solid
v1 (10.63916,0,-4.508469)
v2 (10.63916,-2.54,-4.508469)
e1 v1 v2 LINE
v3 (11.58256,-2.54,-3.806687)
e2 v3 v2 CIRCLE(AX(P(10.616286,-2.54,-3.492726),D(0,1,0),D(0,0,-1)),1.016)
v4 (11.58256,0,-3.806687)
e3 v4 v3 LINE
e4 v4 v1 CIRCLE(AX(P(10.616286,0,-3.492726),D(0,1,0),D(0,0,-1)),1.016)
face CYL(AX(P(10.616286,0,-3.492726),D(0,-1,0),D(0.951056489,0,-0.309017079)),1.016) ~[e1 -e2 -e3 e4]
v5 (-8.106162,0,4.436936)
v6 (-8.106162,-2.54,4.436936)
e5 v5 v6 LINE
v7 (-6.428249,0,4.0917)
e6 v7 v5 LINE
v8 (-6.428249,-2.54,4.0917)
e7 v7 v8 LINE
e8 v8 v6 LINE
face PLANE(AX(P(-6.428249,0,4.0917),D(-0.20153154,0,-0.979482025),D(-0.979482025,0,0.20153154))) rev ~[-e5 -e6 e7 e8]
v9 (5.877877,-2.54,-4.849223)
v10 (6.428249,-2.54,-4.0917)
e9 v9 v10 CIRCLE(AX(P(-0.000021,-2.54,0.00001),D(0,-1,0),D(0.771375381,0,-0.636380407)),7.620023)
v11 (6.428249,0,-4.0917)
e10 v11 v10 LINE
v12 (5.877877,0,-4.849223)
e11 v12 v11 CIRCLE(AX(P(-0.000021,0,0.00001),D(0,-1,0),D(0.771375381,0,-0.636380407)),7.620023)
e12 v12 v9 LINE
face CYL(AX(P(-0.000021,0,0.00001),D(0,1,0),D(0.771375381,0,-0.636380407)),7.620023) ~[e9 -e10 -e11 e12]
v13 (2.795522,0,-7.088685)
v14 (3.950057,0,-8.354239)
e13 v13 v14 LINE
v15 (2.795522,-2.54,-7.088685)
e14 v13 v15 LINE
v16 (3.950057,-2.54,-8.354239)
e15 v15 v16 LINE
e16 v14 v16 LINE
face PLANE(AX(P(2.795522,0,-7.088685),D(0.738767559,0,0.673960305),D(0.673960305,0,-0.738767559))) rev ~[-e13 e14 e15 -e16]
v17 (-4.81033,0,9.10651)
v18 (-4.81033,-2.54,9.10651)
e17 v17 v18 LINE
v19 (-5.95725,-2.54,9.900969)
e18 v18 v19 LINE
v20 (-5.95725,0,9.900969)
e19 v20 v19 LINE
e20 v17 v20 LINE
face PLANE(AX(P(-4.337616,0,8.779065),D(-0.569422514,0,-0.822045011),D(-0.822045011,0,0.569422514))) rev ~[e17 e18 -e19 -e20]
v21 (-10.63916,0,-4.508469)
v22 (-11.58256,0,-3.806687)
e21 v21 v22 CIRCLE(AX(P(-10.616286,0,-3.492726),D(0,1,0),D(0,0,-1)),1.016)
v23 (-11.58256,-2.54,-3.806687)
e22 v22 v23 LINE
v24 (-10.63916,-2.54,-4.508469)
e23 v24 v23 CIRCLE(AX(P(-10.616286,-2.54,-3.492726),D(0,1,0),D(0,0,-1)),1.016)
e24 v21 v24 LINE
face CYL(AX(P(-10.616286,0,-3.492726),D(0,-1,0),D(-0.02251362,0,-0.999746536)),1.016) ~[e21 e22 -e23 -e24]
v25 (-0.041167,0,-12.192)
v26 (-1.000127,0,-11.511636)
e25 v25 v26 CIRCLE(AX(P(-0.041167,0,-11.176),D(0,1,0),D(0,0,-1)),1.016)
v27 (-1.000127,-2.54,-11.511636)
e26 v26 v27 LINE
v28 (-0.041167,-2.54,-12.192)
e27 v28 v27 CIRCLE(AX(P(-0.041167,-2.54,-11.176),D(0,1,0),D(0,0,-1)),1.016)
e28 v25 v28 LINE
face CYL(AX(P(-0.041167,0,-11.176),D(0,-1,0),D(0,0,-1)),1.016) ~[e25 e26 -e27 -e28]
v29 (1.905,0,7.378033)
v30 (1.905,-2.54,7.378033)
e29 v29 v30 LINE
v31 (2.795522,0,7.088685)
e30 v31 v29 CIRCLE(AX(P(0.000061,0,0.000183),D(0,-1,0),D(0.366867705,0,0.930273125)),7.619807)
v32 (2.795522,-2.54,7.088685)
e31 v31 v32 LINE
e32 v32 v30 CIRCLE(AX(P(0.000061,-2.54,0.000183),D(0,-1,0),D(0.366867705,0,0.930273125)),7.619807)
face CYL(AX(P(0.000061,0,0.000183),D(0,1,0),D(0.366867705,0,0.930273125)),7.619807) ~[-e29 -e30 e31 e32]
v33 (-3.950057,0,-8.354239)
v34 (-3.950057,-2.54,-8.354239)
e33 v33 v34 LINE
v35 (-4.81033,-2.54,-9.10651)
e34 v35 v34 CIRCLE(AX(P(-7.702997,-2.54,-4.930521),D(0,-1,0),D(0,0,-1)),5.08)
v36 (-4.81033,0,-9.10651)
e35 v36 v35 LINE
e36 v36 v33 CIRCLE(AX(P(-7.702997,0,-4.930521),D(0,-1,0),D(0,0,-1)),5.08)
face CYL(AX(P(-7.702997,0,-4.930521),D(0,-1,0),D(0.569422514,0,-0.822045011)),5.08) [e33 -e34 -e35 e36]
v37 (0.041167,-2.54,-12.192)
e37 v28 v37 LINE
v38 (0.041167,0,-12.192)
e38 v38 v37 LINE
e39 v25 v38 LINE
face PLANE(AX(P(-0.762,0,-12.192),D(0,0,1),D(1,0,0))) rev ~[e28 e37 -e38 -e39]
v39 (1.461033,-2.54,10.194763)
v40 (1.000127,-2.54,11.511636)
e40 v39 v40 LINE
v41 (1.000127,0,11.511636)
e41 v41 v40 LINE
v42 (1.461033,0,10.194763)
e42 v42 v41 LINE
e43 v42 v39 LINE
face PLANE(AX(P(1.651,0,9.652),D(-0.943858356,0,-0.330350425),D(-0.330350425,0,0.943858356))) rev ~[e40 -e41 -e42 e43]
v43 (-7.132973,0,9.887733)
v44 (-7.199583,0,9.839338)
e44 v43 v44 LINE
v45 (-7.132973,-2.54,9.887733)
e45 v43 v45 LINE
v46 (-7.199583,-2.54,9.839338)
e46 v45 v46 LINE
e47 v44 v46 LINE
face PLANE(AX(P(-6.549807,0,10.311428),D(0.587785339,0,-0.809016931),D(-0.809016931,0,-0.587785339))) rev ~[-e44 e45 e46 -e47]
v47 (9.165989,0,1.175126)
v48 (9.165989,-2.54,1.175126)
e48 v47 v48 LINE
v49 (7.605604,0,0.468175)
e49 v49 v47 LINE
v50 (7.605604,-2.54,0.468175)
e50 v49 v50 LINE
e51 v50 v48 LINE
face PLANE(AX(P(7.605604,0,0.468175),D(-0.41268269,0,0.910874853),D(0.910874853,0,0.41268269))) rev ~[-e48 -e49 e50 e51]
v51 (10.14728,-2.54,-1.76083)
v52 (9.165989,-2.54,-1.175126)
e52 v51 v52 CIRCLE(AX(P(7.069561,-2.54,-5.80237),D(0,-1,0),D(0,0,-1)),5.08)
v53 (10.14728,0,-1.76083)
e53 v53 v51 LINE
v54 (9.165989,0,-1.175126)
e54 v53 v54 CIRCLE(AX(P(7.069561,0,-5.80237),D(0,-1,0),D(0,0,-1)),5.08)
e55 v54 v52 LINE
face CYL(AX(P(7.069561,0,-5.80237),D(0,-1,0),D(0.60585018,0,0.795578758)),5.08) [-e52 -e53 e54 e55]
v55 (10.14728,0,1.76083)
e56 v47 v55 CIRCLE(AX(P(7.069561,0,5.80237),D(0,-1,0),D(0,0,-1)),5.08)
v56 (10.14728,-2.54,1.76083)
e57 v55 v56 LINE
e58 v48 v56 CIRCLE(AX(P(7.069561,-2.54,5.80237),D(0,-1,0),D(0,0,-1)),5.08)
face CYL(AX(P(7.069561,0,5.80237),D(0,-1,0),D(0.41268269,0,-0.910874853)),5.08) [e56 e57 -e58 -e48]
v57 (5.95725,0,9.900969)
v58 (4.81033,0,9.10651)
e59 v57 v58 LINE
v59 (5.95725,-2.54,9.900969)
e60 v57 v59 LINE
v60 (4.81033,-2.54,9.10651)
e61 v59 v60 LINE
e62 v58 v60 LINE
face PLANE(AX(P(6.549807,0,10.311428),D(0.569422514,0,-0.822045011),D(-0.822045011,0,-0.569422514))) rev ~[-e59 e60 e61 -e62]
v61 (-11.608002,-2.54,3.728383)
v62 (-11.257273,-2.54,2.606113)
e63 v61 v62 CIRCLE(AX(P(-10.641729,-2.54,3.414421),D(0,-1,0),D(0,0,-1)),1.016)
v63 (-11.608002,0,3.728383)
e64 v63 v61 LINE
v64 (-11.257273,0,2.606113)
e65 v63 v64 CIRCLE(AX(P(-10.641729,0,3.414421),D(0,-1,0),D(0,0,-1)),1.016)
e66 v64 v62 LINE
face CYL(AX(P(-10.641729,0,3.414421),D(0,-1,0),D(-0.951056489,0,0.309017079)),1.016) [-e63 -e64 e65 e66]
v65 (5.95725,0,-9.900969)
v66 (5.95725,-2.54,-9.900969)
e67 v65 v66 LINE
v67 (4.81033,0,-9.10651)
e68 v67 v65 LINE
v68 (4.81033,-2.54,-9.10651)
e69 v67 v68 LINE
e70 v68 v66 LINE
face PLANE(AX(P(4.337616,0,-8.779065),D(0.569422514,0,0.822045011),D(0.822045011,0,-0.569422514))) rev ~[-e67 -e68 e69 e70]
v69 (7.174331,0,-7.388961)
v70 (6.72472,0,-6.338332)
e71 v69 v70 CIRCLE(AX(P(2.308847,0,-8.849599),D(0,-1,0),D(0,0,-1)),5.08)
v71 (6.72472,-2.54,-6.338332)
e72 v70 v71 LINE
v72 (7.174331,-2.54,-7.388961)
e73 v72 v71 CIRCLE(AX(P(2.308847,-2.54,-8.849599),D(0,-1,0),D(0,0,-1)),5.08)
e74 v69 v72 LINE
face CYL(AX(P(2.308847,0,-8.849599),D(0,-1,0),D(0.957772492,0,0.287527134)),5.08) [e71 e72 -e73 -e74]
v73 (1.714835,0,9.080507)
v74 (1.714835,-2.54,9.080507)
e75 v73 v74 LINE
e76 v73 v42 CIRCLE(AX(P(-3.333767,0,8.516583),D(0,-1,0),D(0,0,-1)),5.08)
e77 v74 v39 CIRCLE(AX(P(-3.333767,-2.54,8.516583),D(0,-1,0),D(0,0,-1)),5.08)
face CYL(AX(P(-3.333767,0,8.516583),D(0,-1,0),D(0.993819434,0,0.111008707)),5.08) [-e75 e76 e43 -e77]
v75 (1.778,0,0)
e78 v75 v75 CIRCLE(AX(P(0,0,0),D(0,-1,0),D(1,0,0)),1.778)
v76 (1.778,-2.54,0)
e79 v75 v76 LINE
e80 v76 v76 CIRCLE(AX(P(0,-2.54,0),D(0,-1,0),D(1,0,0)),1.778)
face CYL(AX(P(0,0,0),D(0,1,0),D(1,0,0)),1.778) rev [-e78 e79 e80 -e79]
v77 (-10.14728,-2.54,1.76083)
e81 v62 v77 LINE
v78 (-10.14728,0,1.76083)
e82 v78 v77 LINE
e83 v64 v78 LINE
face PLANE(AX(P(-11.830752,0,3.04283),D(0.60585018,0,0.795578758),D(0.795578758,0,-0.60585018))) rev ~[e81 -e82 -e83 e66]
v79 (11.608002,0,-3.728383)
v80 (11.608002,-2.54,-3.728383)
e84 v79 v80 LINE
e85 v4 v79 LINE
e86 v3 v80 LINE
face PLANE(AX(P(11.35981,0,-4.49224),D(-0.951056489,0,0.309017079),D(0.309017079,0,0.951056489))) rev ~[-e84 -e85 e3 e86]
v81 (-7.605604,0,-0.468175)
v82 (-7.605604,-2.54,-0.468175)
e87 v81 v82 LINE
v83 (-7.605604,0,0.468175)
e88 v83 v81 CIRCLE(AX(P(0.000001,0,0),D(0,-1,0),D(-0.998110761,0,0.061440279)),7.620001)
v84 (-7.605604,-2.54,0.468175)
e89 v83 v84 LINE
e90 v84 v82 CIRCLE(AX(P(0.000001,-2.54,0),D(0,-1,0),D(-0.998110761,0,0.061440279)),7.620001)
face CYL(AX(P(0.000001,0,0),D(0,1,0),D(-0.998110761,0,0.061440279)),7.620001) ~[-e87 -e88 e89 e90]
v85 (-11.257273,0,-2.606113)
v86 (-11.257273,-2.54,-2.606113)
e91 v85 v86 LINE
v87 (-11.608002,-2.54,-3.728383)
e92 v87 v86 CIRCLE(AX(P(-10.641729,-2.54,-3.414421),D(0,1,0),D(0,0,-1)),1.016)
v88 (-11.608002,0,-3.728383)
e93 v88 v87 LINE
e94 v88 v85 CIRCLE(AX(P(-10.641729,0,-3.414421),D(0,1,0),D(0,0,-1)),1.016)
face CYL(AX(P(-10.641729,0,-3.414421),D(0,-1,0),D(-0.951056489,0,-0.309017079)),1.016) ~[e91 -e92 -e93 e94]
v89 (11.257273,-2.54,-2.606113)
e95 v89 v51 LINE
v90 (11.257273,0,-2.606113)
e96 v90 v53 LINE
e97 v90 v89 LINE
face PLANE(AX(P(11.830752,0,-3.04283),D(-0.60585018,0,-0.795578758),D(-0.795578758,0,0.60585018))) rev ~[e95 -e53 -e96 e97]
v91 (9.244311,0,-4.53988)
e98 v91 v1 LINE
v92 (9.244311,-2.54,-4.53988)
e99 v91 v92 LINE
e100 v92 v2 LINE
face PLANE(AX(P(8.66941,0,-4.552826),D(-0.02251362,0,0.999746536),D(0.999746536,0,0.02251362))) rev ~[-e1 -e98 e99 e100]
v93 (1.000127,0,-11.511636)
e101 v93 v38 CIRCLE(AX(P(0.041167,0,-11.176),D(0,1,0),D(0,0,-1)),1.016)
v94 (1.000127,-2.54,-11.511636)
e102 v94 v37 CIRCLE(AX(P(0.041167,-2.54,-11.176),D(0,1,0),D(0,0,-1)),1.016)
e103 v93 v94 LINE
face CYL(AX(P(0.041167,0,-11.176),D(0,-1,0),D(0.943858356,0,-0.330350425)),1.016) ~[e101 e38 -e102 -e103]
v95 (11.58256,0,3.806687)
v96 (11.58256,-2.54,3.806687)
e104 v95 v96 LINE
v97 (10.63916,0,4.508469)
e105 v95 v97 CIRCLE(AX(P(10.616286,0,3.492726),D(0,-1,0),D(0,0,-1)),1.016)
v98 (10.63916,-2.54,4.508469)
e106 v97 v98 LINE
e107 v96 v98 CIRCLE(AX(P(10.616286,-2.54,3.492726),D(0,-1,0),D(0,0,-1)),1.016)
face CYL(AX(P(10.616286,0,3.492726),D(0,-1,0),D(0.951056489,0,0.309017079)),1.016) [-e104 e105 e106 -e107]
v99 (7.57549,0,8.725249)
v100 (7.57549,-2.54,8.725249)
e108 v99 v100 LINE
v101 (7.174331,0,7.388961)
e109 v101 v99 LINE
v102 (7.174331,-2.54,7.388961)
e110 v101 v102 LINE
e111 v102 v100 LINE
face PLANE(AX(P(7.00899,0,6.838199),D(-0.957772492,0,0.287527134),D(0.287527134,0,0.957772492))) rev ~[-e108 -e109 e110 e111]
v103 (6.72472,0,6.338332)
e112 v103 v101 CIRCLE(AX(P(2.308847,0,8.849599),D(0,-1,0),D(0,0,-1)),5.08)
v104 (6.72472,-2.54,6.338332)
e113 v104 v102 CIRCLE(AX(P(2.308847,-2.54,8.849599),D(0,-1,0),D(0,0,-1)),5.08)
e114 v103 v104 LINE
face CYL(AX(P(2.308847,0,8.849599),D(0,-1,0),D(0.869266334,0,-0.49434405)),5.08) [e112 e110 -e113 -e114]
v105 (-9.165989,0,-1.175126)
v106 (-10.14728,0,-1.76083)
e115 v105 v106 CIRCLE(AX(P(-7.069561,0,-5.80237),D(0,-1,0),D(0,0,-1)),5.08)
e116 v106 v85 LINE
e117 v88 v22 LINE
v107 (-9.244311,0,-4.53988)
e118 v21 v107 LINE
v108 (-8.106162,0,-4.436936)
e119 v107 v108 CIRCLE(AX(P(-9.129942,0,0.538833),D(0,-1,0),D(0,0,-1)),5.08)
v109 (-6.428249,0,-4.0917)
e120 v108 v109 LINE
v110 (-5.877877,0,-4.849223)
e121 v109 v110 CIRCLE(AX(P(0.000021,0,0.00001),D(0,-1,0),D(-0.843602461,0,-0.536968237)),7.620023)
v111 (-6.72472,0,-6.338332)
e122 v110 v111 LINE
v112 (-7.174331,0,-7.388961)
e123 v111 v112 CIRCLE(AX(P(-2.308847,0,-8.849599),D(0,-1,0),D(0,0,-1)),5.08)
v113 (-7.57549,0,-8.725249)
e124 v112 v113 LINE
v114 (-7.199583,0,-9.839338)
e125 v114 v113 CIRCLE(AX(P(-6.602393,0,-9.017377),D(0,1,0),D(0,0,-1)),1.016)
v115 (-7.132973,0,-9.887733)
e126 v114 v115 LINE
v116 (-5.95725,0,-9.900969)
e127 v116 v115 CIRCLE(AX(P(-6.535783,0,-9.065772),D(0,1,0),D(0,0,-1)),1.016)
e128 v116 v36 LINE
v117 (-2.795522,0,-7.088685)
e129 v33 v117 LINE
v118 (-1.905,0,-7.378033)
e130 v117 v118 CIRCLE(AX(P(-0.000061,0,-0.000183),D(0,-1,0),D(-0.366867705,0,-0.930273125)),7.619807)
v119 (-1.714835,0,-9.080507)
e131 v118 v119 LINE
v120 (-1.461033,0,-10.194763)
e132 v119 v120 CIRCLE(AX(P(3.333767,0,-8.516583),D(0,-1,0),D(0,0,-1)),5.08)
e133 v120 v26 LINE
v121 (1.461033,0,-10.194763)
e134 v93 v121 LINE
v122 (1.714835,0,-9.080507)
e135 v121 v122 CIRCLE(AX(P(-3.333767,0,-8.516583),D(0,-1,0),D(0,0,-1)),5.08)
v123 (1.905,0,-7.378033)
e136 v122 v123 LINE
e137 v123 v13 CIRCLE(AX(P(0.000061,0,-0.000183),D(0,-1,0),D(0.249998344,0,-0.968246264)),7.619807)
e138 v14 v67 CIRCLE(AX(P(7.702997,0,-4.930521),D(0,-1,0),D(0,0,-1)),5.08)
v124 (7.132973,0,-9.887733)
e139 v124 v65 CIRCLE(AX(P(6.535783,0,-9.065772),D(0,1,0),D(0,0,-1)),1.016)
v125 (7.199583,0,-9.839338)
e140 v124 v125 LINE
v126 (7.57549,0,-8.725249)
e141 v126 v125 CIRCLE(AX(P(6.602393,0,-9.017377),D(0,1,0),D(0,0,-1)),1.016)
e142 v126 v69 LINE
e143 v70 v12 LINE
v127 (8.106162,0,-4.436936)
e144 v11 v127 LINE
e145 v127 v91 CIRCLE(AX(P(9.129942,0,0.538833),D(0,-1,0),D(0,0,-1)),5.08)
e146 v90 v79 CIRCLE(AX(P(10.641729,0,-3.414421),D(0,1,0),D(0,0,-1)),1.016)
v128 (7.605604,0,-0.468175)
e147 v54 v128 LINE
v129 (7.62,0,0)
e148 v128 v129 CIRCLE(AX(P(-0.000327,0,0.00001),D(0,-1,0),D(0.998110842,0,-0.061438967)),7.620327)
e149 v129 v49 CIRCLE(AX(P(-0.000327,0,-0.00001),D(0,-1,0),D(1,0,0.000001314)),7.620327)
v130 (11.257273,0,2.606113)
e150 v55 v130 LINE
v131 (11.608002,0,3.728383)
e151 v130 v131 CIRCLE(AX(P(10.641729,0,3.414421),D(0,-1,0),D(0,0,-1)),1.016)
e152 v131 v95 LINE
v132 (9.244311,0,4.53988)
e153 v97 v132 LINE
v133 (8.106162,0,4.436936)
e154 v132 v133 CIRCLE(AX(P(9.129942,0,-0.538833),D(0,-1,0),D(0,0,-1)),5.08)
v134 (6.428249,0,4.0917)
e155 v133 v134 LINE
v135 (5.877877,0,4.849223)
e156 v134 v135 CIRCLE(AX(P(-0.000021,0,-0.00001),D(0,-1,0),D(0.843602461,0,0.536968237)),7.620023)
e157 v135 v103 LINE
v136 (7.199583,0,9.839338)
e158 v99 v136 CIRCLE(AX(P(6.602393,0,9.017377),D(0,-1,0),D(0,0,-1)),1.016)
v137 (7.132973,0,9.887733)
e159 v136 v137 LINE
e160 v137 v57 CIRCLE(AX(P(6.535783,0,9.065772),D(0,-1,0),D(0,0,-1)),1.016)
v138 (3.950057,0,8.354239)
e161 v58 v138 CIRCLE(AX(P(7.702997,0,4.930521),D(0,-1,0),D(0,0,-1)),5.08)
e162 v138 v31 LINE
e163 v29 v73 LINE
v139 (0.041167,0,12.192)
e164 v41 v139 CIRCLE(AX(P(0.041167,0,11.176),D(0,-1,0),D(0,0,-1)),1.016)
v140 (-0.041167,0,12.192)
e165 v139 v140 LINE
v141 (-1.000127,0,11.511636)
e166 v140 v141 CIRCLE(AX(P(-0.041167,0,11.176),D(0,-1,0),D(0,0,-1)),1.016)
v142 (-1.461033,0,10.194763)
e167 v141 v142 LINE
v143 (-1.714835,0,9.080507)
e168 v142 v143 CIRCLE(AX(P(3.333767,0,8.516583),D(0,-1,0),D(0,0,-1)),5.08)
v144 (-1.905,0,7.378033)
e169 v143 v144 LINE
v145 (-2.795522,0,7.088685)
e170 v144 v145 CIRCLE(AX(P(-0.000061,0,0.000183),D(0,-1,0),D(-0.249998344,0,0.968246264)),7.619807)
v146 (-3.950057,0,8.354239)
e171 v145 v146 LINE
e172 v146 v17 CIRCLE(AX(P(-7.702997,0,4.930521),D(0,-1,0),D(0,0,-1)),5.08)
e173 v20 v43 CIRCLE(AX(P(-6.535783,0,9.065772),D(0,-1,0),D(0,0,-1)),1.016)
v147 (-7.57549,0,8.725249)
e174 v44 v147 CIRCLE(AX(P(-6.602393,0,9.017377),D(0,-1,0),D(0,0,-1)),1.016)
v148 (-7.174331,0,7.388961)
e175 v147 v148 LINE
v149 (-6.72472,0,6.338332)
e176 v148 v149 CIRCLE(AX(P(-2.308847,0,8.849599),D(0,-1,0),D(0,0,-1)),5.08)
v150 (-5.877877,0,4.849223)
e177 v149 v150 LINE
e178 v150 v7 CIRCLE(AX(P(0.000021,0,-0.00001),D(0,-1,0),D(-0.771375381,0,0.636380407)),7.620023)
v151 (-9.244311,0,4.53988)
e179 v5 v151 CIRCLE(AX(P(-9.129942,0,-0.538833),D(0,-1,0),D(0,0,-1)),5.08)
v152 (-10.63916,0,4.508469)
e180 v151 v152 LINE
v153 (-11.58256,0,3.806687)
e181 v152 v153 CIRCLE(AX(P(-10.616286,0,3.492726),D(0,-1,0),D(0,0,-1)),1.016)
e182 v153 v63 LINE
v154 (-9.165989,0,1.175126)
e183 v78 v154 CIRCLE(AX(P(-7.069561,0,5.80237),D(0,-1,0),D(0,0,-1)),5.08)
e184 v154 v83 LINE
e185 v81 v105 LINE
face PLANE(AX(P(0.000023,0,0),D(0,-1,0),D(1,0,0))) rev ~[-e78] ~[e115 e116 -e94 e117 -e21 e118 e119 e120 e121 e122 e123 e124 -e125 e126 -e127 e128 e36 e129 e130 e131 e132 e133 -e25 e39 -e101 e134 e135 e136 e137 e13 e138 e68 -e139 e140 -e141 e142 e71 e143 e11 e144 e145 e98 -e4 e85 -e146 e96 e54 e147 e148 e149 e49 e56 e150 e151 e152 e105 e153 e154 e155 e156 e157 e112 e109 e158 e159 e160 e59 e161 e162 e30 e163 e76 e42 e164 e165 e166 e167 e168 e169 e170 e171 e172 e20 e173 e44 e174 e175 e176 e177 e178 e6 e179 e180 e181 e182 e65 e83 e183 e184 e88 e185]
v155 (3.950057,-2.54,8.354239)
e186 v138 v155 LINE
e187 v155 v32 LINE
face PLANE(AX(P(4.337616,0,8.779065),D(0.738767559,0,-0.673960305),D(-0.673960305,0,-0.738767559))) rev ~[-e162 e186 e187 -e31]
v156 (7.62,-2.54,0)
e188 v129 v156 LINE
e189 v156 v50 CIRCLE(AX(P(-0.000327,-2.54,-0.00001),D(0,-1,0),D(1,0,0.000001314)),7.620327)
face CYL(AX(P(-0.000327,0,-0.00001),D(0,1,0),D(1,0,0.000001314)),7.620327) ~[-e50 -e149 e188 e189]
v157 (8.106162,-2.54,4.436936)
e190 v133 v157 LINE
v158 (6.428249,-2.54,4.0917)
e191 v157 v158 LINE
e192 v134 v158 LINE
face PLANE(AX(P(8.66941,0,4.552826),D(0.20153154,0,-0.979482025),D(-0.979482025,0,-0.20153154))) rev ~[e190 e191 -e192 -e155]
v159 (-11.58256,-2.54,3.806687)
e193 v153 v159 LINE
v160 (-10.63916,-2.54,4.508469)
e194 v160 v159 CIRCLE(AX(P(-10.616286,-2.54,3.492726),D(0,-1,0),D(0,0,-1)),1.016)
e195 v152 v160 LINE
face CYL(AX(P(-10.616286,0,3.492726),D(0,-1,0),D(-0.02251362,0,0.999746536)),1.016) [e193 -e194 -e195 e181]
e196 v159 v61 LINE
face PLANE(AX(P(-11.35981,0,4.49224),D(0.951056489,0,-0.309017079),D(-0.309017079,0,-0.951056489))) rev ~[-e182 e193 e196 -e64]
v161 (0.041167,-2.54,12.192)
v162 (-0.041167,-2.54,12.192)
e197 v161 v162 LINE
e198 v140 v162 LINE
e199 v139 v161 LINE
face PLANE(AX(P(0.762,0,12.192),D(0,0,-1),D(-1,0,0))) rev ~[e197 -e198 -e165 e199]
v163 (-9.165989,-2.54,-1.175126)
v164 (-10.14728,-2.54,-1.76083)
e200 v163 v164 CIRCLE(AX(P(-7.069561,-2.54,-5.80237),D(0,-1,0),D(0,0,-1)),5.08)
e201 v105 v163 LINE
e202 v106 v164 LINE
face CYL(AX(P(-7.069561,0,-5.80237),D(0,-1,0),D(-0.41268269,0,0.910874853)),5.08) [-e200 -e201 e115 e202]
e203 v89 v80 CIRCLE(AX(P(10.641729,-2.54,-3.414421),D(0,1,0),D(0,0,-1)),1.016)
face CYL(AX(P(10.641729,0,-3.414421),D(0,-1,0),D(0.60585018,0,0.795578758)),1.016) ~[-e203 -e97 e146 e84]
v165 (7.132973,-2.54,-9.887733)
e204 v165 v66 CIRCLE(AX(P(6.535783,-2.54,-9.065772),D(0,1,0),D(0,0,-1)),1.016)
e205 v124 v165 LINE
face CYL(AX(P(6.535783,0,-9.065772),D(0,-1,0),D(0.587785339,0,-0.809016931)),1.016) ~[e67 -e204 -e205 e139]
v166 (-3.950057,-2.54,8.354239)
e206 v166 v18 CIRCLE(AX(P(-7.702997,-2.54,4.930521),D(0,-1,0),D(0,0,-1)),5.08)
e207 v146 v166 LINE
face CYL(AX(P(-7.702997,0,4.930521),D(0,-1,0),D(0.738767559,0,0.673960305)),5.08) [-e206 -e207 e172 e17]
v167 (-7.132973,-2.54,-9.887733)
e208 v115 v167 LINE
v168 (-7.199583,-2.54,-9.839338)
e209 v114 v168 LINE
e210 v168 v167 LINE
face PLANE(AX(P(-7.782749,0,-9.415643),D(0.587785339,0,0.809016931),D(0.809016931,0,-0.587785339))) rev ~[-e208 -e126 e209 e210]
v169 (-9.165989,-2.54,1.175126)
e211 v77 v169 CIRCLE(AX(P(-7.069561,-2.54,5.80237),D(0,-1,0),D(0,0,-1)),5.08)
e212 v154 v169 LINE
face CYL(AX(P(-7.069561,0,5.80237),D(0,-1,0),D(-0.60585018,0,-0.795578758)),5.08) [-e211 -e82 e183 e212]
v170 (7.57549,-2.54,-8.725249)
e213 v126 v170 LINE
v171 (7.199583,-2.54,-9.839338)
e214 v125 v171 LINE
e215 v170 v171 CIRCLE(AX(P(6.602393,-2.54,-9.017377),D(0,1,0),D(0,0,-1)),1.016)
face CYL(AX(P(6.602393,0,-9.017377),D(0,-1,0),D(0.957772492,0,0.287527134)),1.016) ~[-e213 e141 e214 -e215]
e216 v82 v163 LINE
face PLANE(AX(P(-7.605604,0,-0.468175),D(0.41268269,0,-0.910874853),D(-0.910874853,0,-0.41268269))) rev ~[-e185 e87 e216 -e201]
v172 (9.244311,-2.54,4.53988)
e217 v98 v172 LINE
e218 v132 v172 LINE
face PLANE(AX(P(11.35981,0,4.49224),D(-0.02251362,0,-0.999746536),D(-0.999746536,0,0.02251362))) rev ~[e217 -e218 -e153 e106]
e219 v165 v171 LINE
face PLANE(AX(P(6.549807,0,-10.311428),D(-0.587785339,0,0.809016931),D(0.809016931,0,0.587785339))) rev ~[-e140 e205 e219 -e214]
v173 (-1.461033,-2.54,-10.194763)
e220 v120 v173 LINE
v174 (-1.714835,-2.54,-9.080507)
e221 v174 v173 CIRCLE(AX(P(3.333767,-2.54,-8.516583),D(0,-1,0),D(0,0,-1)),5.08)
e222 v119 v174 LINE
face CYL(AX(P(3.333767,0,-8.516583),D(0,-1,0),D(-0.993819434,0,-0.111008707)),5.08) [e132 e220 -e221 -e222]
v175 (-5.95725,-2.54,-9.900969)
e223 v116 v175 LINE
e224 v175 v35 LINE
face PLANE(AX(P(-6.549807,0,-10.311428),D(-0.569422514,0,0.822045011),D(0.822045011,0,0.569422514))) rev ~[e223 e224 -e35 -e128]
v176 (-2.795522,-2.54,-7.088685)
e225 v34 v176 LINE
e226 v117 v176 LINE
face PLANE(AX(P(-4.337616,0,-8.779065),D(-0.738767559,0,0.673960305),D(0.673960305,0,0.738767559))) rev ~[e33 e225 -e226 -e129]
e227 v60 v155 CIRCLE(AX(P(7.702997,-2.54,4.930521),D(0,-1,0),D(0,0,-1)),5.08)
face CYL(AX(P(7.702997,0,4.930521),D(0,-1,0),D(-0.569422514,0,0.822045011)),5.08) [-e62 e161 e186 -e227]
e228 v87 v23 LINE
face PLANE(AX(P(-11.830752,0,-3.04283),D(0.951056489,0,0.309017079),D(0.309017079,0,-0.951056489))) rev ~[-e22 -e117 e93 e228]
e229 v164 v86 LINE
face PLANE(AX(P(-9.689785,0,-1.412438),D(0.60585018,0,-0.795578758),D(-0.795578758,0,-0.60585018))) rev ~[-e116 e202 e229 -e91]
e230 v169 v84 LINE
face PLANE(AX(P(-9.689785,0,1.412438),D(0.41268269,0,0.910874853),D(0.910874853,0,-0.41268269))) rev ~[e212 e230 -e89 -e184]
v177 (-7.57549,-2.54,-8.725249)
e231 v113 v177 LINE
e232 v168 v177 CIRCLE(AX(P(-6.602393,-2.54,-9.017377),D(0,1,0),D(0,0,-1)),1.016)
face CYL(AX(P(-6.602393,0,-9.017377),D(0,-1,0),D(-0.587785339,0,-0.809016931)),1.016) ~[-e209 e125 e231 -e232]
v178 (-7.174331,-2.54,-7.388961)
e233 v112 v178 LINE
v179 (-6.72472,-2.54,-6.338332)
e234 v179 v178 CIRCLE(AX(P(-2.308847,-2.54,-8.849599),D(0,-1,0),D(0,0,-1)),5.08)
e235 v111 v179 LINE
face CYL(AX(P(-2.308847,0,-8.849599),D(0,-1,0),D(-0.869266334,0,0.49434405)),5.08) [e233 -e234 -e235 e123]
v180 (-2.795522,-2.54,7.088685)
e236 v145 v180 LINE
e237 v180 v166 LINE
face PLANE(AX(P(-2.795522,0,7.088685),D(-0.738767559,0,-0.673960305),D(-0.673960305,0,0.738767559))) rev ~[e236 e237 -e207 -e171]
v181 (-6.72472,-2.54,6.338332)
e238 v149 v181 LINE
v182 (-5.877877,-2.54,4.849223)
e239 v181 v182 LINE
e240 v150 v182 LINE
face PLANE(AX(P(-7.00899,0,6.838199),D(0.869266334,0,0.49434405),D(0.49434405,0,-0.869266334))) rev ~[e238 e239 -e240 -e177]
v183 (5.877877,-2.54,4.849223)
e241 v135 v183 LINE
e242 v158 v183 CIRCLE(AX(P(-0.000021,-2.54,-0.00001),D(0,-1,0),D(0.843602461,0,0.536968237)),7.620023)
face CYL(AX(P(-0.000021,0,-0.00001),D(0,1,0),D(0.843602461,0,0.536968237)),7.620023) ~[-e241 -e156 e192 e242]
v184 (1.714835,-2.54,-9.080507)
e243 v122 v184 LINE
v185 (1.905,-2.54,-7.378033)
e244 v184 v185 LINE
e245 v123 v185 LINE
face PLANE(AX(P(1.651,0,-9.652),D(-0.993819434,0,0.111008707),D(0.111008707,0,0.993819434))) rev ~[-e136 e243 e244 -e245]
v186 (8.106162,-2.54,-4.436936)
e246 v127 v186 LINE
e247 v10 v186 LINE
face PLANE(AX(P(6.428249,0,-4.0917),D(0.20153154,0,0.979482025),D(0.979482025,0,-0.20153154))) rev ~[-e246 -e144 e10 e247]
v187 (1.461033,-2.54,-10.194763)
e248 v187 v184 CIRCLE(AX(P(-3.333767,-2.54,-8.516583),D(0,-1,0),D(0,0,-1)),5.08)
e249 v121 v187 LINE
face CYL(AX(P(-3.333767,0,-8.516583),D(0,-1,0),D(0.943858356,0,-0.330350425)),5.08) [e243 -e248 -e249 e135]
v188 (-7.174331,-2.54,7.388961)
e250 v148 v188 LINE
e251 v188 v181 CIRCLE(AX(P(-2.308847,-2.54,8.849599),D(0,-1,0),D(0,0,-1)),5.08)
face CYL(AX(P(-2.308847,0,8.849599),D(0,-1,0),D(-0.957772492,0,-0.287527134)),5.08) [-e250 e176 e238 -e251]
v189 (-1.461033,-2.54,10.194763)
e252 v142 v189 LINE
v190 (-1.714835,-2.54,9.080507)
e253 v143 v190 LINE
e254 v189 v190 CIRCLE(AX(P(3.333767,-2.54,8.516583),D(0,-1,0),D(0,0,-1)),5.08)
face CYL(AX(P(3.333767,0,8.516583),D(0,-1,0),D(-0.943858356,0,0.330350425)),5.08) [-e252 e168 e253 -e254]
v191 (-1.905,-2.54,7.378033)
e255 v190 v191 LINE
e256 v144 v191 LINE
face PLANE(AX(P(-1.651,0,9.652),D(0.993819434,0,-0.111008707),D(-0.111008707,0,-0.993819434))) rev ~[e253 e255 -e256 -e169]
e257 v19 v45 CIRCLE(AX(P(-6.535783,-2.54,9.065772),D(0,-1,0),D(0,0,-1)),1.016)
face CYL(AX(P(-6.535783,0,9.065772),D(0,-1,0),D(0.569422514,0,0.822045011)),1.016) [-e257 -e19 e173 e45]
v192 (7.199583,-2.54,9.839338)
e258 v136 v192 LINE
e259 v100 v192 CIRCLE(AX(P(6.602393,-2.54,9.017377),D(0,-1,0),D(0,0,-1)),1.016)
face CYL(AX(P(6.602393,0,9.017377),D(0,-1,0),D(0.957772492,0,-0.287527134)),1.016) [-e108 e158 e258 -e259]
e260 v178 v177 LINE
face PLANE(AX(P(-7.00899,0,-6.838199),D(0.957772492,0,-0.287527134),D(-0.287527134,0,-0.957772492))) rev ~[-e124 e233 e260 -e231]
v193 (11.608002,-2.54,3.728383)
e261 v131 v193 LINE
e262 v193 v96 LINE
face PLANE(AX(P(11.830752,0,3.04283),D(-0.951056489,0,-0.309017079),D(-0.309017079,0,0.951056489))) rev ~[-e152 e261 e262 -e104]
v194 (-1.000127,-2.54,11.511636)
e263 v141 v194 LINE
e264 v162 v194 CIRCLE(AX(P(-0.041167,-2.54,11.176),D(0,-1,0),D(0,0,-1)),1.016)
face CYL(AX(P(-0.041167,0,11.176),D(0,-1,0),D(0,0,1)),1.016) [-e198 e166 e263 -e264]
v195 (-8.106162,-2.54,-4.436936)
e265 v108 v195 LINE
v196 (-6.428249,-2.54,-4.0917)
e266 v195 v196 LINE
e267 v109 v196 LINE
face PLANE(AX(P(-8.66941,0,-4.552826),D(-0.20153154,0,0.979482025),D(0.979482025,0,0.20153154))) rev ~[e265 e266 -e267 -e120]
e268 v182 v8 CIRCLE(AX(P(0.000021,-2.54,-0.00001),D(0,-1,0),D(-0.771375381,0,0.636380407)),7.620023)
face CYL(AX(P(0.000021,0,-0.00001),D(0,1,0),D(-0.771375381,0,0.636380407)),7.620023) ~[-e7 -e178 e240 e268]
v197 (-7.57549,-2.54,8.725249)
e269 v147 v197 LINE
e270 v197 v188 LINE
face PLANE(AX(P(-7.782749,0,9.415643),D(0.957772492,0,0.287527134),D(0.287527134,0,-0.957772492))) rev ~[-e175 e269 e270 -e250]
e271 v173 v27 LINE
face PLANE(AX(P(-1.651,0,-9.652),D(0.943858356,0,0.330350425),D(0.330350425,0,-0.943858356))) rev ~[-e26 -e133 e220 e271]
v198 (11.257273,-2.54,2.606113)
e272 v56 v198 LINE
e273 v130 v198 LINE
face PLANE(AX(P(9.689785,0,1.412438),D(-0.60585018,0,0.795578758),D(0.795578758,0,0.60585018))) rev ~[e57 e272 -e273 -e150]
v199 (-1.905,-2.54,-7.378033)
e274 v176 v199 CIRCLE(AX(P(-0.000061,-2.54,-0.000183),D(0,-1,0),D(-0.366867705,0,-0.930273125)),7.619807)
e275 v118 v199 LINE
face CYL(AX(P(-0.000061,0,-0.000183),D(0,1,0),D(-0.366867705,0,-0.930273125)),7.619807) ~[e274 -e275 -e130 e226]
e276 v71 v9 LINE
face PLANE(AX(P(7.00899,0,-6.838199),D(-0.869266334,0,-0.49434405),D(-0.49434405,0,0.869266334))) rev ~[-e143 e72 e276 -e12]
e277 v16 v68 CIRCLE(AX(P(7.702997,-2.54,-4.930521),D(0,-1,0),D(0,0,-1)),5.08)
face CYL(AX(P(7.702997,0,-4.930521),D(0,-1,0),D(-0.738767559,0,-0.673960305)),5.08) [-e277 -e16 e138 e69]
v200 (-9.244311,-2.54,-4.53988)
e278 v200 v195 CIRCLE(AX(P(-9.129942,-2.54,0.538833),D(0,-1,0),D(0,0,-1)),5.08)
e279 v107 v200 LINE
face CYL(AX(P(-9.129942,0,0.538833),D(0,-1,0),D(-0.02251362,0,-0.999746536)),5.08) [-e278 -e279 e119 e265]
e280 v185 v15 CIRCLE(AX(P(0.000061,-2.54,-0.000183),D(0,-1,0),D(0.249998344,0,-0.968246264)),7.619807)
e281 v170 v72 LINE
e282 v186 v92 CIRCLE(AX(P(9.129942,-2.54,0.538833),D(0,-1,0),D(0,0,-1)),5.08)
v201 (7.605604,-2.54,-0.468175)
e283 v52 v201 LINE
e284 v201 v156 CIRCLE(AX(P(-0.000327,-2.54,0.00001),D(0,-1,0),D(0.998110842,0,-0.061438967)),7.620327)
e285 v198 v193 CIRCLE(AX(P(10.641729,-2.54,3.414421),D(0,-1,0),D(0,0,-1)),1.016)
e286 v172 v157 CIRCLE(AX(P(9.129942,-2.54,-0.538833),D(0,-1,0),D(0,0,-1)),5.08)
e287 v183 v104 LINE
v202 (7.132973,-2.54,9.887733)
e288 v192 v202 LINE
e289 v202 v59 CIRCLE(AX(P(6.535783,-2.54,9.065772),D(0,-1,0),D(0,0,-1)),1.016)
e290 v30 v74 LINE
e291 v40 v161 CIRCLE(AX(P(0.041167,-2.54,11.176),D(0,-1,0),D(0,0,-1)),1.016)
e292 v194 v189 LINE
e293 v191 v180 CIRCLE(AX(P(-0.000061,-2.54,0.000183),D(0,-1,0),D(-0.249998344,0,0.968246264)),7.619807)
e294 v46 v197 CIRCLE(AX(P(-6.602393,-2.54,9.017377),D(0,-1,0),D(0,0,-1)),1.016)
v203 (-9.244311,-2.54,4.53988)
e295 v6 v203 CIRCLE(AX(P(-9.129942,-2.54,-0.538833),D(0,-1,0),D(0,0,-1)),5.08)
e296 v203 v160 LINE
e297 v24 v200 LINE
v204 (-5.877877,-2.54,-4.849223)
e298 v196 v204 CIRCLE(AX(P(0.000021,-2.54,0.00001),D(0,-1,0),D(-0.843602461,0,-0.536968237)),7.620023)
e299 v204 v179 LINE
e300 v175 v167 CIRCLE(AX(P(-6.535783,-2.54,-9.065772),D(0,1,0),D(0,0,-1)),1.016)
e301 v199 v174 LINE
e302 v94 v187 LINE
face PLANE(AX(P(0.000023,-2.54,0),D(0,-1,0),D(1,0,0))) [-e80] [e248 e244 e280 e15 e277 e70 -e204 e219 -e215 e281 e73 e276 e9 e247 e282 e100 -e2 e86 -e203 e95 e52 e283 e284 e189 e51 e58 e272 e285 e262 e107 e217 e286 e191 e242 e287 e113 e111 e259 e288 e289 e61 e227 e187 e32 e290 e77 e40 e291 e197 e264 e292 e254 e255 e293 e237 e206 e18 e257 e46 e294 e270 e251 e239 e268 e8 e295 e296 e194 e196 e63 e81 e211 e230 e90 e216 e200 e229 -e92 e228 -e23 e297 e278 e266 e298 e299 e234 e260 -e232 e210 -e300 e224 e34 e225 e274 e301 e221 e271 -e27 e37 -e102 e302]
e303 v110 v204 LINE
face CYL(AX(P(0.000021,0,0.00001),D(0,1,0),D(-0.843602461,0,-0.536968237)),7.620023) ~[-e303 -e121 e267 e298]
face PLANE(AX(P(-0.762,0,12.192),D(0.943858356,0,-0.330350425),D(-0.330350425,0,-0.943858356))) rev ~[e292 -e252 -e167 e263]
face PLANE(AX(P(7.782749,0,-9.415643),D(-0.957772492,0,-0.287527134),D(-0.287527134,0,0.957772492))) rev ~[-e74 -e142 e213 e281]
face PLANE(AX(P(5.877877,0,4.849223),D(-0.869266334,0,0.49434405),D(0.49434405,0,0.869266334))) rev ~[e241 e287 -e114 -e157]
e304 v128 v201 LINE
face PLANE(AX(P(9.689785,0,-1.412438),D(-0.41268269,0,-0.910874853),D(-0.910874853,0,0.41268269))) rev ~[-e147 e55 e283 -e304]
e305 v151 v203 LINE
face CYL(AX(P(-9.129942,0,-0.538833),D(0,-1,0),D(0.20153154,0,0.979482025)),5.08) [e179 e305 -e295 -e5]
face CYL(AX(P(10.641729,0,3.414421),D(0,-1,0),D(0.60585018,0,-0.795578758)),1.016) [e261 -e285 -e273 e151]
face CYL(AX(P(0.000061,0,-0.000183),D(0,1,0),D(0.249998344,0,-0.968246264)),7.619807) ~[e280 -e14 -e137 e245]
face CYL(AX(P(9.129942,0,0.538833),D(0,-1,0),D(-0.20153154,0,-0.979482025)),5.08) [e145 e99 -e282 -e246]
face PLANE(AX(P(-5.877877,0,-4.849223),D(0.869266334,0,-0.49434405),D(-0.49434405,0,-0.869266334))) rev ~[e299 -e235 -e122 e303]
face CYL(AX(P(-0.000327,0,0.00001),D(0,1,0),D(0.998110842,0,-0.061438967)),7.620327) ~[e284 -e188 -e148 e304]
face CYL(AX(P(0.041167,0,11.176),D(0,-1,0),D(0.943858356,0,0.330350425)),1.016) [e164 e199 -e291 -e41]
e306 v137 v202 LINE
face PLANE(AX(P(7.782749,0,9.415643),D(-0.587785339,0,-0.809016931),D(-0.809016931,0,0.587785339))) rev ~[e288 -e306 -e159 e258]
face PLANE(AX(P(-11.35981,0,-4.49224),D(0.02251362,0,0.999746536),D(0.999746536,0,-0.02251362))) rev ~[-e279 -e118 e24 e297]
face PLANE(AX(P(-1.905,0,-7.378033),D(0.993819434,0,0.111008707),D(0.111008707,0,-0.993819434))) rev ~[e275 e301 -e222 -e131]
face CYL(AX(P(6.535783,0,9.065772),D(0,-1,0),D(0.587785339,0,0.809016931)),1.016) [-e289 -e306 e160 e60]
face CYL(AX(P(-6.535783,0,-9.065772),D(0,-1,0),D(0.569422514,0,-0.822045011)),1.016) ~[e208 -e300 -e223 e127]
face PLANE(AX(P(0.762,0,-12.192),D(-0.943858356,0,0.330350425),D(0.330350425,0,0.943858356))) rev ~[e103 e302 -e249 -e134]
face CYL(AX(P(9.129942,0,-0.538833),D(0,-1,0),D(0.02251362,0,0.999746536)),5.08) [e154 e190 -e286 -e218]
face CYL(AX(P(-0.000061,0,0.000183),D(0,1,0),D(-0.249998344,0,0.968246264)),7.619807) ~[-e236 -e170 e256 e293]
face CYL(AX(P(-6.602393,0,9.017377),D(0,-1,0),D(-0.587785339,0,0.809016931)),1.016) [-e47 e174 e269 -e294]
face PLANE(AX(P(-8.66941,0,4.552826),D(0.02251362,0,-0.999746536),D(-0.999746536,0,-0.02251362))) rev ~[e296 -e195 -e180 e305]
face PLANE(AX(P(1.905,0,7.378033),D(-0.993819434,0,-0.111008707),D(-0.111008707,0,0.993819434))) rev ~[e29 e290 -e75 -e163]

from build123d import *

# Parameters (mm, degrees)
F0_R     = 1.778
F1_DEPTH = 2.54
F2_R     = 5.08
F3_R     = 1.016


with BuildPart() as f1:
    # F0 (on Front) → F1 (new body)
    with BuildSketch(Plane.XZ):
        with BuildLine():
            ThreePointArc((7.605604, -0.468175), (7.6164, -0.234198), (7.62, 0))
            ThreePointArc((7.62, 0), (7.6164, 0.234198), (7.605604, 0.468175))
            ThreePointArc((7.605604, 0.468175), (7.247051, 2.354709), (6.428249, 4.0917))
            ThreePointArc((6.428249, 4.0917), (6.164709, 4.478924), (5.877877, 4.849223))
            ThreePointArc((5.877877, 4.849223), (4.478924, 6.164709), (2.795522, 7.088685))
            ThreePointArc((2.795522, 7.088685), (2.354709, 7.247051), (1.905, 7.378033))
            ThreePointArc((1.905, 7.378033), (0, 7.62), (-1.905, 7.378033))
            ThreePointArc((-1.905, 7.378033), (-2.354709, 7.247051), (-2.795522, 7.088685))
            ThreePointArc((-2.795522, 7.088685), (-4.478924, 6.164709), (-5.877877, 4.849223))
            ThreePointArc((-5.877877, 4.849223), (-6.164709, 4.478924), (-6.428249, 4.0917))
            ThreePointArc((-6.428249, 4.0917), (-7.247051, 2.354709), (-7.605604, 0.468175))
            ThreePointArc((-7.605604, 0.468175), (-7.62, 0), (-7.605604, -0.468175))
            ThreePointArc((-7.605604, -0.468175), (-7.247051, -2.354709), (-6.428249, -4.0917))
            ThreePointArc((-6.428249, -4.0917), (-6.164709, -4.478924), (-5.877877, -4.849223))
            ThreePointArc((-5.877877, -4.849223), (-4.478924, -6.164709), (-2.795522, -7.088685))
            ThreePointArc((-2.795522, -7.088685), (-2.354709, -7.247051), (-1.905, -7.378033))
            ThreePointArc((-1.905, -7.378033), (0, -7.62), (1.905, -7.378033))
            ThreePointArc((1.905, -7.378033), (2.354709, -7.247051), (2.795522, -7.088685))
            ThreePointArc((2.795522, -7.088685), (4.478924, -6.164709), (5.877877, -4.849223))
            ThreePointArc((5.877877, -4.849223), (6.164709, -4.478924), (6.428249, -4.0917))
            ThreePointArc((6.428249, -4.0917), (7.247051, -2.354709), (7.605604, -0.468175))
        make_face()
        Circle(F0_R, mode=Mode.SUBTRACT)
        with BuildLine():
            ThreePointArc((6.428249, 4.0917), (7.247051, 2.354709), (7.605604, 0.468175))
            Line((7.605604, 0.468175), (9.689785, 1.412438))
            Line((9.689785, 1.412438), (11.830752, 3.04283))
            Line((11.830752, 3.04283), (11.35981, 4.49224))
            Line((11.35981, 4.49224), (8.66941, 4.552826))
            Line((8.66941, 4.552826), (6.428249, 4.0917))
        make_face()
        with BuildLine():
            Line((9.689785, -1.412438), (7.605604, -0.468175))
            ThreePointArc((7.605604, -0.468175), (7.247051, -2.354709), (6.428249, -4.0917))
            Line((6.428249, -4.0917), (8.66941, -4.552826))
            Line((8.66941, -4.552826), (11.35981, -4.49224))
            Line((11.35981, -4.49224), (11.830752, -3.04283))
            Line((11.830752, -3.04283), (9.689785, -1.412438))
        make_face()
        with BuildLine():
            ThreePointArc((2.795522, 7.088685), (4.478924, 6.164709), (5.877877, 4.849223))
            Line((5.877877, 4.849223), (7.00899, 6.838199))
            Line((7.00899, 6.838199), (7.782749, 9.415643))
            Line((7.782749, 9.415643), (6.549807, 10.311428))
            Line((6.549807, 10.311428), (4.337616, 8.779065))
            Line((4.337616, 8.779065), (2.795522, 7.088685))
        make_face()
        with BuildLine():
            Line((7.00899, -6.838199), (5.877877, -4.849223))
            ThreePointArc((5.877877, -4.849223), (4.478924, -6.164709), (2.795522, -7.088685))
            Line((2.795522, -7.088685), (4.337616, -8.779065))
            Line((4.337616, -8.779065), (6.549807, -10.311428))
            Line((6.549807, -10.311428), (7.782749, -9.415643))
            Line((7.782749, -9.415643), (7.00899, -6.838199))
        make_face()
        with BuildLine():
            ThreePointArc((-1.905, 7.378033), (0, 7.62), (1.905, 7.378033))
            Line((1.905, 7.378033), (1.651, 9.652))
            Line((1.651, 9.652), (0.762, 12.192))
            Line((0.762, 12.192), (-0.762, 12.192))
            Line((-0.762, 12.192), (-1.651, 9.652))
            Line((-1.651, 9.652), (-1.905, 7.378033))
        make_face()
        with BuildLine():
            Line((1.651, -9.652), (1.905, -7.378033))
            ThreePointArc((1.905, -7.378033), (0, -7.62), (-1.905, -7.378033))
            Line((-1.905, -7.378033), (-1.651, -9.652))
            Line((-1.651, -9.652), (-0.762, -12.192))
            Line((-0.762, -12.192), (0.762, -12.192))
            Line((0.762, -12.192), (1.651, -9.652))
        make_face()
        with BuildLine():
            ThreePointArc((-5.877877, 4.849223), (-4.478924, 6.164709), (-2.795522, 7.088685))
            Line((-2.795522, 7.088685), (-4.337616, 8.779065))
            Line((-4.337616, 8.779065), (-6.549807, 10.311428))
            Line((-6.549807, 10.311428), (-7.782749, 9.415643))
            Line((-7.782749, 9.415643), (-7.00899, 6.838199))
            Line((-7.00899, 6.838199), (-5.877877, 4.849223))
        make_face()
        with BuildLine():
            Line((-4.337616, -8.779065), (-2.795522, -7.088685))
            ThreePointArc((-2.795522, -7.088685), (-4.478924, -6.164709), (-5.877877, -4.849223))
            Line((-5.877877, -4.849223), (-7.00899, -6.838199))
            Line((-7.00899, -6.838199), (-7.782749, -9.415643))
            Line((-7.782749, -9.415643), (-6.549807, -10.311428))
            Line((-6.549807, -10.311428), (-4.337616, -8.779065))
        make_face()
        with BuildLine():
            ThreePointArc((-7.605604, 0.468175), (-7.247051, 2.354709), (-6.428249, 4.0917))
            Line((-6.428249, 4.0917), (-8.66941, 4.552826))
            Line((-8.66941, 4.552826), (-11.35981, 4.49224))
            Line((-11.35981, 4.49224), (-11.830752, 3.04283))
            Line((-11.830752, 3.04283), (-9.689785, 1.412438))
            Line((-9.689785, 1.412438), (-7.605604, 0.468175))
        make_face()
        with BuildLine():
            Line((-8.66941, -4.552826), (-6.428249, -4.0917))
            ThreePointArc((-6.428249, -4.0917), (-7.247051, -2.354709), (-7.605604, -0.468175))
            Line((-7.605604, -0.468175), (-9.689785, -1.412438))
            Line((-9.689785, -1.412438), (-11.830752, -3.04283))
            Line((-11.830752, -3.04283), (-11.35981, -4.49224))
            Line((-11.35981, -4.49224), (-8.66941, -4.552826))
        make_face()
    extrude(amount=F1_DEPTH)

    # F2
    f2_edges = [f1.edges().sort_by_distance(p)[0] for p in [
        (7.00899, -1.27, 6.838199),
        (4.337616, -1.27, 8.779065),
        (1.651, -1.27, 9.652),
        (-4.337616, -1.27, 8.779065),
        (-8.66941, -1.27, 4.552826),
        (-9.689785, -1.27, -1.412438),
        (-7.00899, -1.27, -6.838199),
        (-1.651, -1.27, -9.652),
        (4.337616, -1.27, -8.779065),
        (8.66941, -1.27, -4.552826),
        (9.689785, -1.27, 1.412438),
        (9.689785, -1.27, -1.412438),
        (8.66941, -1.27, 4.552826),
        (-1.651, -1.27, 9.652),
        (-7.00899, -1.27, 6.838199),
        (-9.689785, -1.27, 1.412438),
        (-8.66941, -1.27, -4.552826),
        (-4.337616, -1.27, -8.779065),
        (1.651, -1.27, -9.652),
        (7.00899, -1.27, -6.838199),
    ]]
    fillet(f2_edges, radius=F2_R)

    # F3
    f3_edges = [f1.edges().sort_by_distance(p)[0] for p in [
        (0.762, -1.27, 12.192),
        (-0.762, -1.27, 12.192),
        (-6.549807, -1.27, 10.311428),
        (-7.782749, -1.27, 9.415643),
        (-11.35981, -1.27, 4.49224),
        (6.549807, -1.27, 10.311428),
        (7.782749, -1.27, 9.415643),
        (11.35981, -1.27, 4.49224),
        (-11.830752, -1.27, 3.04283),
        (-11.830752, -1.27, -3.04283),
        (-11.35981, -1.27, -4.49224),
        (-7.782749, -1.27, -9.415643),
        (-6.549807, -1.27, -10.311428),
        (-0.762, -1.27, -12.192),
        (0.762, -1.27, -12.192),
        (6.549807, -1.27, -10.311428),
        (7.782749, -1.27, -9.415643),
        (11.830752, -1.27, -3.04283),
        (11.35981, -1.27, -4.49224),
        (11.830752, -1.27, 3.04283),
    ]]
    fillet(f3_edges, radius=F3_R)


solid = f1.part
